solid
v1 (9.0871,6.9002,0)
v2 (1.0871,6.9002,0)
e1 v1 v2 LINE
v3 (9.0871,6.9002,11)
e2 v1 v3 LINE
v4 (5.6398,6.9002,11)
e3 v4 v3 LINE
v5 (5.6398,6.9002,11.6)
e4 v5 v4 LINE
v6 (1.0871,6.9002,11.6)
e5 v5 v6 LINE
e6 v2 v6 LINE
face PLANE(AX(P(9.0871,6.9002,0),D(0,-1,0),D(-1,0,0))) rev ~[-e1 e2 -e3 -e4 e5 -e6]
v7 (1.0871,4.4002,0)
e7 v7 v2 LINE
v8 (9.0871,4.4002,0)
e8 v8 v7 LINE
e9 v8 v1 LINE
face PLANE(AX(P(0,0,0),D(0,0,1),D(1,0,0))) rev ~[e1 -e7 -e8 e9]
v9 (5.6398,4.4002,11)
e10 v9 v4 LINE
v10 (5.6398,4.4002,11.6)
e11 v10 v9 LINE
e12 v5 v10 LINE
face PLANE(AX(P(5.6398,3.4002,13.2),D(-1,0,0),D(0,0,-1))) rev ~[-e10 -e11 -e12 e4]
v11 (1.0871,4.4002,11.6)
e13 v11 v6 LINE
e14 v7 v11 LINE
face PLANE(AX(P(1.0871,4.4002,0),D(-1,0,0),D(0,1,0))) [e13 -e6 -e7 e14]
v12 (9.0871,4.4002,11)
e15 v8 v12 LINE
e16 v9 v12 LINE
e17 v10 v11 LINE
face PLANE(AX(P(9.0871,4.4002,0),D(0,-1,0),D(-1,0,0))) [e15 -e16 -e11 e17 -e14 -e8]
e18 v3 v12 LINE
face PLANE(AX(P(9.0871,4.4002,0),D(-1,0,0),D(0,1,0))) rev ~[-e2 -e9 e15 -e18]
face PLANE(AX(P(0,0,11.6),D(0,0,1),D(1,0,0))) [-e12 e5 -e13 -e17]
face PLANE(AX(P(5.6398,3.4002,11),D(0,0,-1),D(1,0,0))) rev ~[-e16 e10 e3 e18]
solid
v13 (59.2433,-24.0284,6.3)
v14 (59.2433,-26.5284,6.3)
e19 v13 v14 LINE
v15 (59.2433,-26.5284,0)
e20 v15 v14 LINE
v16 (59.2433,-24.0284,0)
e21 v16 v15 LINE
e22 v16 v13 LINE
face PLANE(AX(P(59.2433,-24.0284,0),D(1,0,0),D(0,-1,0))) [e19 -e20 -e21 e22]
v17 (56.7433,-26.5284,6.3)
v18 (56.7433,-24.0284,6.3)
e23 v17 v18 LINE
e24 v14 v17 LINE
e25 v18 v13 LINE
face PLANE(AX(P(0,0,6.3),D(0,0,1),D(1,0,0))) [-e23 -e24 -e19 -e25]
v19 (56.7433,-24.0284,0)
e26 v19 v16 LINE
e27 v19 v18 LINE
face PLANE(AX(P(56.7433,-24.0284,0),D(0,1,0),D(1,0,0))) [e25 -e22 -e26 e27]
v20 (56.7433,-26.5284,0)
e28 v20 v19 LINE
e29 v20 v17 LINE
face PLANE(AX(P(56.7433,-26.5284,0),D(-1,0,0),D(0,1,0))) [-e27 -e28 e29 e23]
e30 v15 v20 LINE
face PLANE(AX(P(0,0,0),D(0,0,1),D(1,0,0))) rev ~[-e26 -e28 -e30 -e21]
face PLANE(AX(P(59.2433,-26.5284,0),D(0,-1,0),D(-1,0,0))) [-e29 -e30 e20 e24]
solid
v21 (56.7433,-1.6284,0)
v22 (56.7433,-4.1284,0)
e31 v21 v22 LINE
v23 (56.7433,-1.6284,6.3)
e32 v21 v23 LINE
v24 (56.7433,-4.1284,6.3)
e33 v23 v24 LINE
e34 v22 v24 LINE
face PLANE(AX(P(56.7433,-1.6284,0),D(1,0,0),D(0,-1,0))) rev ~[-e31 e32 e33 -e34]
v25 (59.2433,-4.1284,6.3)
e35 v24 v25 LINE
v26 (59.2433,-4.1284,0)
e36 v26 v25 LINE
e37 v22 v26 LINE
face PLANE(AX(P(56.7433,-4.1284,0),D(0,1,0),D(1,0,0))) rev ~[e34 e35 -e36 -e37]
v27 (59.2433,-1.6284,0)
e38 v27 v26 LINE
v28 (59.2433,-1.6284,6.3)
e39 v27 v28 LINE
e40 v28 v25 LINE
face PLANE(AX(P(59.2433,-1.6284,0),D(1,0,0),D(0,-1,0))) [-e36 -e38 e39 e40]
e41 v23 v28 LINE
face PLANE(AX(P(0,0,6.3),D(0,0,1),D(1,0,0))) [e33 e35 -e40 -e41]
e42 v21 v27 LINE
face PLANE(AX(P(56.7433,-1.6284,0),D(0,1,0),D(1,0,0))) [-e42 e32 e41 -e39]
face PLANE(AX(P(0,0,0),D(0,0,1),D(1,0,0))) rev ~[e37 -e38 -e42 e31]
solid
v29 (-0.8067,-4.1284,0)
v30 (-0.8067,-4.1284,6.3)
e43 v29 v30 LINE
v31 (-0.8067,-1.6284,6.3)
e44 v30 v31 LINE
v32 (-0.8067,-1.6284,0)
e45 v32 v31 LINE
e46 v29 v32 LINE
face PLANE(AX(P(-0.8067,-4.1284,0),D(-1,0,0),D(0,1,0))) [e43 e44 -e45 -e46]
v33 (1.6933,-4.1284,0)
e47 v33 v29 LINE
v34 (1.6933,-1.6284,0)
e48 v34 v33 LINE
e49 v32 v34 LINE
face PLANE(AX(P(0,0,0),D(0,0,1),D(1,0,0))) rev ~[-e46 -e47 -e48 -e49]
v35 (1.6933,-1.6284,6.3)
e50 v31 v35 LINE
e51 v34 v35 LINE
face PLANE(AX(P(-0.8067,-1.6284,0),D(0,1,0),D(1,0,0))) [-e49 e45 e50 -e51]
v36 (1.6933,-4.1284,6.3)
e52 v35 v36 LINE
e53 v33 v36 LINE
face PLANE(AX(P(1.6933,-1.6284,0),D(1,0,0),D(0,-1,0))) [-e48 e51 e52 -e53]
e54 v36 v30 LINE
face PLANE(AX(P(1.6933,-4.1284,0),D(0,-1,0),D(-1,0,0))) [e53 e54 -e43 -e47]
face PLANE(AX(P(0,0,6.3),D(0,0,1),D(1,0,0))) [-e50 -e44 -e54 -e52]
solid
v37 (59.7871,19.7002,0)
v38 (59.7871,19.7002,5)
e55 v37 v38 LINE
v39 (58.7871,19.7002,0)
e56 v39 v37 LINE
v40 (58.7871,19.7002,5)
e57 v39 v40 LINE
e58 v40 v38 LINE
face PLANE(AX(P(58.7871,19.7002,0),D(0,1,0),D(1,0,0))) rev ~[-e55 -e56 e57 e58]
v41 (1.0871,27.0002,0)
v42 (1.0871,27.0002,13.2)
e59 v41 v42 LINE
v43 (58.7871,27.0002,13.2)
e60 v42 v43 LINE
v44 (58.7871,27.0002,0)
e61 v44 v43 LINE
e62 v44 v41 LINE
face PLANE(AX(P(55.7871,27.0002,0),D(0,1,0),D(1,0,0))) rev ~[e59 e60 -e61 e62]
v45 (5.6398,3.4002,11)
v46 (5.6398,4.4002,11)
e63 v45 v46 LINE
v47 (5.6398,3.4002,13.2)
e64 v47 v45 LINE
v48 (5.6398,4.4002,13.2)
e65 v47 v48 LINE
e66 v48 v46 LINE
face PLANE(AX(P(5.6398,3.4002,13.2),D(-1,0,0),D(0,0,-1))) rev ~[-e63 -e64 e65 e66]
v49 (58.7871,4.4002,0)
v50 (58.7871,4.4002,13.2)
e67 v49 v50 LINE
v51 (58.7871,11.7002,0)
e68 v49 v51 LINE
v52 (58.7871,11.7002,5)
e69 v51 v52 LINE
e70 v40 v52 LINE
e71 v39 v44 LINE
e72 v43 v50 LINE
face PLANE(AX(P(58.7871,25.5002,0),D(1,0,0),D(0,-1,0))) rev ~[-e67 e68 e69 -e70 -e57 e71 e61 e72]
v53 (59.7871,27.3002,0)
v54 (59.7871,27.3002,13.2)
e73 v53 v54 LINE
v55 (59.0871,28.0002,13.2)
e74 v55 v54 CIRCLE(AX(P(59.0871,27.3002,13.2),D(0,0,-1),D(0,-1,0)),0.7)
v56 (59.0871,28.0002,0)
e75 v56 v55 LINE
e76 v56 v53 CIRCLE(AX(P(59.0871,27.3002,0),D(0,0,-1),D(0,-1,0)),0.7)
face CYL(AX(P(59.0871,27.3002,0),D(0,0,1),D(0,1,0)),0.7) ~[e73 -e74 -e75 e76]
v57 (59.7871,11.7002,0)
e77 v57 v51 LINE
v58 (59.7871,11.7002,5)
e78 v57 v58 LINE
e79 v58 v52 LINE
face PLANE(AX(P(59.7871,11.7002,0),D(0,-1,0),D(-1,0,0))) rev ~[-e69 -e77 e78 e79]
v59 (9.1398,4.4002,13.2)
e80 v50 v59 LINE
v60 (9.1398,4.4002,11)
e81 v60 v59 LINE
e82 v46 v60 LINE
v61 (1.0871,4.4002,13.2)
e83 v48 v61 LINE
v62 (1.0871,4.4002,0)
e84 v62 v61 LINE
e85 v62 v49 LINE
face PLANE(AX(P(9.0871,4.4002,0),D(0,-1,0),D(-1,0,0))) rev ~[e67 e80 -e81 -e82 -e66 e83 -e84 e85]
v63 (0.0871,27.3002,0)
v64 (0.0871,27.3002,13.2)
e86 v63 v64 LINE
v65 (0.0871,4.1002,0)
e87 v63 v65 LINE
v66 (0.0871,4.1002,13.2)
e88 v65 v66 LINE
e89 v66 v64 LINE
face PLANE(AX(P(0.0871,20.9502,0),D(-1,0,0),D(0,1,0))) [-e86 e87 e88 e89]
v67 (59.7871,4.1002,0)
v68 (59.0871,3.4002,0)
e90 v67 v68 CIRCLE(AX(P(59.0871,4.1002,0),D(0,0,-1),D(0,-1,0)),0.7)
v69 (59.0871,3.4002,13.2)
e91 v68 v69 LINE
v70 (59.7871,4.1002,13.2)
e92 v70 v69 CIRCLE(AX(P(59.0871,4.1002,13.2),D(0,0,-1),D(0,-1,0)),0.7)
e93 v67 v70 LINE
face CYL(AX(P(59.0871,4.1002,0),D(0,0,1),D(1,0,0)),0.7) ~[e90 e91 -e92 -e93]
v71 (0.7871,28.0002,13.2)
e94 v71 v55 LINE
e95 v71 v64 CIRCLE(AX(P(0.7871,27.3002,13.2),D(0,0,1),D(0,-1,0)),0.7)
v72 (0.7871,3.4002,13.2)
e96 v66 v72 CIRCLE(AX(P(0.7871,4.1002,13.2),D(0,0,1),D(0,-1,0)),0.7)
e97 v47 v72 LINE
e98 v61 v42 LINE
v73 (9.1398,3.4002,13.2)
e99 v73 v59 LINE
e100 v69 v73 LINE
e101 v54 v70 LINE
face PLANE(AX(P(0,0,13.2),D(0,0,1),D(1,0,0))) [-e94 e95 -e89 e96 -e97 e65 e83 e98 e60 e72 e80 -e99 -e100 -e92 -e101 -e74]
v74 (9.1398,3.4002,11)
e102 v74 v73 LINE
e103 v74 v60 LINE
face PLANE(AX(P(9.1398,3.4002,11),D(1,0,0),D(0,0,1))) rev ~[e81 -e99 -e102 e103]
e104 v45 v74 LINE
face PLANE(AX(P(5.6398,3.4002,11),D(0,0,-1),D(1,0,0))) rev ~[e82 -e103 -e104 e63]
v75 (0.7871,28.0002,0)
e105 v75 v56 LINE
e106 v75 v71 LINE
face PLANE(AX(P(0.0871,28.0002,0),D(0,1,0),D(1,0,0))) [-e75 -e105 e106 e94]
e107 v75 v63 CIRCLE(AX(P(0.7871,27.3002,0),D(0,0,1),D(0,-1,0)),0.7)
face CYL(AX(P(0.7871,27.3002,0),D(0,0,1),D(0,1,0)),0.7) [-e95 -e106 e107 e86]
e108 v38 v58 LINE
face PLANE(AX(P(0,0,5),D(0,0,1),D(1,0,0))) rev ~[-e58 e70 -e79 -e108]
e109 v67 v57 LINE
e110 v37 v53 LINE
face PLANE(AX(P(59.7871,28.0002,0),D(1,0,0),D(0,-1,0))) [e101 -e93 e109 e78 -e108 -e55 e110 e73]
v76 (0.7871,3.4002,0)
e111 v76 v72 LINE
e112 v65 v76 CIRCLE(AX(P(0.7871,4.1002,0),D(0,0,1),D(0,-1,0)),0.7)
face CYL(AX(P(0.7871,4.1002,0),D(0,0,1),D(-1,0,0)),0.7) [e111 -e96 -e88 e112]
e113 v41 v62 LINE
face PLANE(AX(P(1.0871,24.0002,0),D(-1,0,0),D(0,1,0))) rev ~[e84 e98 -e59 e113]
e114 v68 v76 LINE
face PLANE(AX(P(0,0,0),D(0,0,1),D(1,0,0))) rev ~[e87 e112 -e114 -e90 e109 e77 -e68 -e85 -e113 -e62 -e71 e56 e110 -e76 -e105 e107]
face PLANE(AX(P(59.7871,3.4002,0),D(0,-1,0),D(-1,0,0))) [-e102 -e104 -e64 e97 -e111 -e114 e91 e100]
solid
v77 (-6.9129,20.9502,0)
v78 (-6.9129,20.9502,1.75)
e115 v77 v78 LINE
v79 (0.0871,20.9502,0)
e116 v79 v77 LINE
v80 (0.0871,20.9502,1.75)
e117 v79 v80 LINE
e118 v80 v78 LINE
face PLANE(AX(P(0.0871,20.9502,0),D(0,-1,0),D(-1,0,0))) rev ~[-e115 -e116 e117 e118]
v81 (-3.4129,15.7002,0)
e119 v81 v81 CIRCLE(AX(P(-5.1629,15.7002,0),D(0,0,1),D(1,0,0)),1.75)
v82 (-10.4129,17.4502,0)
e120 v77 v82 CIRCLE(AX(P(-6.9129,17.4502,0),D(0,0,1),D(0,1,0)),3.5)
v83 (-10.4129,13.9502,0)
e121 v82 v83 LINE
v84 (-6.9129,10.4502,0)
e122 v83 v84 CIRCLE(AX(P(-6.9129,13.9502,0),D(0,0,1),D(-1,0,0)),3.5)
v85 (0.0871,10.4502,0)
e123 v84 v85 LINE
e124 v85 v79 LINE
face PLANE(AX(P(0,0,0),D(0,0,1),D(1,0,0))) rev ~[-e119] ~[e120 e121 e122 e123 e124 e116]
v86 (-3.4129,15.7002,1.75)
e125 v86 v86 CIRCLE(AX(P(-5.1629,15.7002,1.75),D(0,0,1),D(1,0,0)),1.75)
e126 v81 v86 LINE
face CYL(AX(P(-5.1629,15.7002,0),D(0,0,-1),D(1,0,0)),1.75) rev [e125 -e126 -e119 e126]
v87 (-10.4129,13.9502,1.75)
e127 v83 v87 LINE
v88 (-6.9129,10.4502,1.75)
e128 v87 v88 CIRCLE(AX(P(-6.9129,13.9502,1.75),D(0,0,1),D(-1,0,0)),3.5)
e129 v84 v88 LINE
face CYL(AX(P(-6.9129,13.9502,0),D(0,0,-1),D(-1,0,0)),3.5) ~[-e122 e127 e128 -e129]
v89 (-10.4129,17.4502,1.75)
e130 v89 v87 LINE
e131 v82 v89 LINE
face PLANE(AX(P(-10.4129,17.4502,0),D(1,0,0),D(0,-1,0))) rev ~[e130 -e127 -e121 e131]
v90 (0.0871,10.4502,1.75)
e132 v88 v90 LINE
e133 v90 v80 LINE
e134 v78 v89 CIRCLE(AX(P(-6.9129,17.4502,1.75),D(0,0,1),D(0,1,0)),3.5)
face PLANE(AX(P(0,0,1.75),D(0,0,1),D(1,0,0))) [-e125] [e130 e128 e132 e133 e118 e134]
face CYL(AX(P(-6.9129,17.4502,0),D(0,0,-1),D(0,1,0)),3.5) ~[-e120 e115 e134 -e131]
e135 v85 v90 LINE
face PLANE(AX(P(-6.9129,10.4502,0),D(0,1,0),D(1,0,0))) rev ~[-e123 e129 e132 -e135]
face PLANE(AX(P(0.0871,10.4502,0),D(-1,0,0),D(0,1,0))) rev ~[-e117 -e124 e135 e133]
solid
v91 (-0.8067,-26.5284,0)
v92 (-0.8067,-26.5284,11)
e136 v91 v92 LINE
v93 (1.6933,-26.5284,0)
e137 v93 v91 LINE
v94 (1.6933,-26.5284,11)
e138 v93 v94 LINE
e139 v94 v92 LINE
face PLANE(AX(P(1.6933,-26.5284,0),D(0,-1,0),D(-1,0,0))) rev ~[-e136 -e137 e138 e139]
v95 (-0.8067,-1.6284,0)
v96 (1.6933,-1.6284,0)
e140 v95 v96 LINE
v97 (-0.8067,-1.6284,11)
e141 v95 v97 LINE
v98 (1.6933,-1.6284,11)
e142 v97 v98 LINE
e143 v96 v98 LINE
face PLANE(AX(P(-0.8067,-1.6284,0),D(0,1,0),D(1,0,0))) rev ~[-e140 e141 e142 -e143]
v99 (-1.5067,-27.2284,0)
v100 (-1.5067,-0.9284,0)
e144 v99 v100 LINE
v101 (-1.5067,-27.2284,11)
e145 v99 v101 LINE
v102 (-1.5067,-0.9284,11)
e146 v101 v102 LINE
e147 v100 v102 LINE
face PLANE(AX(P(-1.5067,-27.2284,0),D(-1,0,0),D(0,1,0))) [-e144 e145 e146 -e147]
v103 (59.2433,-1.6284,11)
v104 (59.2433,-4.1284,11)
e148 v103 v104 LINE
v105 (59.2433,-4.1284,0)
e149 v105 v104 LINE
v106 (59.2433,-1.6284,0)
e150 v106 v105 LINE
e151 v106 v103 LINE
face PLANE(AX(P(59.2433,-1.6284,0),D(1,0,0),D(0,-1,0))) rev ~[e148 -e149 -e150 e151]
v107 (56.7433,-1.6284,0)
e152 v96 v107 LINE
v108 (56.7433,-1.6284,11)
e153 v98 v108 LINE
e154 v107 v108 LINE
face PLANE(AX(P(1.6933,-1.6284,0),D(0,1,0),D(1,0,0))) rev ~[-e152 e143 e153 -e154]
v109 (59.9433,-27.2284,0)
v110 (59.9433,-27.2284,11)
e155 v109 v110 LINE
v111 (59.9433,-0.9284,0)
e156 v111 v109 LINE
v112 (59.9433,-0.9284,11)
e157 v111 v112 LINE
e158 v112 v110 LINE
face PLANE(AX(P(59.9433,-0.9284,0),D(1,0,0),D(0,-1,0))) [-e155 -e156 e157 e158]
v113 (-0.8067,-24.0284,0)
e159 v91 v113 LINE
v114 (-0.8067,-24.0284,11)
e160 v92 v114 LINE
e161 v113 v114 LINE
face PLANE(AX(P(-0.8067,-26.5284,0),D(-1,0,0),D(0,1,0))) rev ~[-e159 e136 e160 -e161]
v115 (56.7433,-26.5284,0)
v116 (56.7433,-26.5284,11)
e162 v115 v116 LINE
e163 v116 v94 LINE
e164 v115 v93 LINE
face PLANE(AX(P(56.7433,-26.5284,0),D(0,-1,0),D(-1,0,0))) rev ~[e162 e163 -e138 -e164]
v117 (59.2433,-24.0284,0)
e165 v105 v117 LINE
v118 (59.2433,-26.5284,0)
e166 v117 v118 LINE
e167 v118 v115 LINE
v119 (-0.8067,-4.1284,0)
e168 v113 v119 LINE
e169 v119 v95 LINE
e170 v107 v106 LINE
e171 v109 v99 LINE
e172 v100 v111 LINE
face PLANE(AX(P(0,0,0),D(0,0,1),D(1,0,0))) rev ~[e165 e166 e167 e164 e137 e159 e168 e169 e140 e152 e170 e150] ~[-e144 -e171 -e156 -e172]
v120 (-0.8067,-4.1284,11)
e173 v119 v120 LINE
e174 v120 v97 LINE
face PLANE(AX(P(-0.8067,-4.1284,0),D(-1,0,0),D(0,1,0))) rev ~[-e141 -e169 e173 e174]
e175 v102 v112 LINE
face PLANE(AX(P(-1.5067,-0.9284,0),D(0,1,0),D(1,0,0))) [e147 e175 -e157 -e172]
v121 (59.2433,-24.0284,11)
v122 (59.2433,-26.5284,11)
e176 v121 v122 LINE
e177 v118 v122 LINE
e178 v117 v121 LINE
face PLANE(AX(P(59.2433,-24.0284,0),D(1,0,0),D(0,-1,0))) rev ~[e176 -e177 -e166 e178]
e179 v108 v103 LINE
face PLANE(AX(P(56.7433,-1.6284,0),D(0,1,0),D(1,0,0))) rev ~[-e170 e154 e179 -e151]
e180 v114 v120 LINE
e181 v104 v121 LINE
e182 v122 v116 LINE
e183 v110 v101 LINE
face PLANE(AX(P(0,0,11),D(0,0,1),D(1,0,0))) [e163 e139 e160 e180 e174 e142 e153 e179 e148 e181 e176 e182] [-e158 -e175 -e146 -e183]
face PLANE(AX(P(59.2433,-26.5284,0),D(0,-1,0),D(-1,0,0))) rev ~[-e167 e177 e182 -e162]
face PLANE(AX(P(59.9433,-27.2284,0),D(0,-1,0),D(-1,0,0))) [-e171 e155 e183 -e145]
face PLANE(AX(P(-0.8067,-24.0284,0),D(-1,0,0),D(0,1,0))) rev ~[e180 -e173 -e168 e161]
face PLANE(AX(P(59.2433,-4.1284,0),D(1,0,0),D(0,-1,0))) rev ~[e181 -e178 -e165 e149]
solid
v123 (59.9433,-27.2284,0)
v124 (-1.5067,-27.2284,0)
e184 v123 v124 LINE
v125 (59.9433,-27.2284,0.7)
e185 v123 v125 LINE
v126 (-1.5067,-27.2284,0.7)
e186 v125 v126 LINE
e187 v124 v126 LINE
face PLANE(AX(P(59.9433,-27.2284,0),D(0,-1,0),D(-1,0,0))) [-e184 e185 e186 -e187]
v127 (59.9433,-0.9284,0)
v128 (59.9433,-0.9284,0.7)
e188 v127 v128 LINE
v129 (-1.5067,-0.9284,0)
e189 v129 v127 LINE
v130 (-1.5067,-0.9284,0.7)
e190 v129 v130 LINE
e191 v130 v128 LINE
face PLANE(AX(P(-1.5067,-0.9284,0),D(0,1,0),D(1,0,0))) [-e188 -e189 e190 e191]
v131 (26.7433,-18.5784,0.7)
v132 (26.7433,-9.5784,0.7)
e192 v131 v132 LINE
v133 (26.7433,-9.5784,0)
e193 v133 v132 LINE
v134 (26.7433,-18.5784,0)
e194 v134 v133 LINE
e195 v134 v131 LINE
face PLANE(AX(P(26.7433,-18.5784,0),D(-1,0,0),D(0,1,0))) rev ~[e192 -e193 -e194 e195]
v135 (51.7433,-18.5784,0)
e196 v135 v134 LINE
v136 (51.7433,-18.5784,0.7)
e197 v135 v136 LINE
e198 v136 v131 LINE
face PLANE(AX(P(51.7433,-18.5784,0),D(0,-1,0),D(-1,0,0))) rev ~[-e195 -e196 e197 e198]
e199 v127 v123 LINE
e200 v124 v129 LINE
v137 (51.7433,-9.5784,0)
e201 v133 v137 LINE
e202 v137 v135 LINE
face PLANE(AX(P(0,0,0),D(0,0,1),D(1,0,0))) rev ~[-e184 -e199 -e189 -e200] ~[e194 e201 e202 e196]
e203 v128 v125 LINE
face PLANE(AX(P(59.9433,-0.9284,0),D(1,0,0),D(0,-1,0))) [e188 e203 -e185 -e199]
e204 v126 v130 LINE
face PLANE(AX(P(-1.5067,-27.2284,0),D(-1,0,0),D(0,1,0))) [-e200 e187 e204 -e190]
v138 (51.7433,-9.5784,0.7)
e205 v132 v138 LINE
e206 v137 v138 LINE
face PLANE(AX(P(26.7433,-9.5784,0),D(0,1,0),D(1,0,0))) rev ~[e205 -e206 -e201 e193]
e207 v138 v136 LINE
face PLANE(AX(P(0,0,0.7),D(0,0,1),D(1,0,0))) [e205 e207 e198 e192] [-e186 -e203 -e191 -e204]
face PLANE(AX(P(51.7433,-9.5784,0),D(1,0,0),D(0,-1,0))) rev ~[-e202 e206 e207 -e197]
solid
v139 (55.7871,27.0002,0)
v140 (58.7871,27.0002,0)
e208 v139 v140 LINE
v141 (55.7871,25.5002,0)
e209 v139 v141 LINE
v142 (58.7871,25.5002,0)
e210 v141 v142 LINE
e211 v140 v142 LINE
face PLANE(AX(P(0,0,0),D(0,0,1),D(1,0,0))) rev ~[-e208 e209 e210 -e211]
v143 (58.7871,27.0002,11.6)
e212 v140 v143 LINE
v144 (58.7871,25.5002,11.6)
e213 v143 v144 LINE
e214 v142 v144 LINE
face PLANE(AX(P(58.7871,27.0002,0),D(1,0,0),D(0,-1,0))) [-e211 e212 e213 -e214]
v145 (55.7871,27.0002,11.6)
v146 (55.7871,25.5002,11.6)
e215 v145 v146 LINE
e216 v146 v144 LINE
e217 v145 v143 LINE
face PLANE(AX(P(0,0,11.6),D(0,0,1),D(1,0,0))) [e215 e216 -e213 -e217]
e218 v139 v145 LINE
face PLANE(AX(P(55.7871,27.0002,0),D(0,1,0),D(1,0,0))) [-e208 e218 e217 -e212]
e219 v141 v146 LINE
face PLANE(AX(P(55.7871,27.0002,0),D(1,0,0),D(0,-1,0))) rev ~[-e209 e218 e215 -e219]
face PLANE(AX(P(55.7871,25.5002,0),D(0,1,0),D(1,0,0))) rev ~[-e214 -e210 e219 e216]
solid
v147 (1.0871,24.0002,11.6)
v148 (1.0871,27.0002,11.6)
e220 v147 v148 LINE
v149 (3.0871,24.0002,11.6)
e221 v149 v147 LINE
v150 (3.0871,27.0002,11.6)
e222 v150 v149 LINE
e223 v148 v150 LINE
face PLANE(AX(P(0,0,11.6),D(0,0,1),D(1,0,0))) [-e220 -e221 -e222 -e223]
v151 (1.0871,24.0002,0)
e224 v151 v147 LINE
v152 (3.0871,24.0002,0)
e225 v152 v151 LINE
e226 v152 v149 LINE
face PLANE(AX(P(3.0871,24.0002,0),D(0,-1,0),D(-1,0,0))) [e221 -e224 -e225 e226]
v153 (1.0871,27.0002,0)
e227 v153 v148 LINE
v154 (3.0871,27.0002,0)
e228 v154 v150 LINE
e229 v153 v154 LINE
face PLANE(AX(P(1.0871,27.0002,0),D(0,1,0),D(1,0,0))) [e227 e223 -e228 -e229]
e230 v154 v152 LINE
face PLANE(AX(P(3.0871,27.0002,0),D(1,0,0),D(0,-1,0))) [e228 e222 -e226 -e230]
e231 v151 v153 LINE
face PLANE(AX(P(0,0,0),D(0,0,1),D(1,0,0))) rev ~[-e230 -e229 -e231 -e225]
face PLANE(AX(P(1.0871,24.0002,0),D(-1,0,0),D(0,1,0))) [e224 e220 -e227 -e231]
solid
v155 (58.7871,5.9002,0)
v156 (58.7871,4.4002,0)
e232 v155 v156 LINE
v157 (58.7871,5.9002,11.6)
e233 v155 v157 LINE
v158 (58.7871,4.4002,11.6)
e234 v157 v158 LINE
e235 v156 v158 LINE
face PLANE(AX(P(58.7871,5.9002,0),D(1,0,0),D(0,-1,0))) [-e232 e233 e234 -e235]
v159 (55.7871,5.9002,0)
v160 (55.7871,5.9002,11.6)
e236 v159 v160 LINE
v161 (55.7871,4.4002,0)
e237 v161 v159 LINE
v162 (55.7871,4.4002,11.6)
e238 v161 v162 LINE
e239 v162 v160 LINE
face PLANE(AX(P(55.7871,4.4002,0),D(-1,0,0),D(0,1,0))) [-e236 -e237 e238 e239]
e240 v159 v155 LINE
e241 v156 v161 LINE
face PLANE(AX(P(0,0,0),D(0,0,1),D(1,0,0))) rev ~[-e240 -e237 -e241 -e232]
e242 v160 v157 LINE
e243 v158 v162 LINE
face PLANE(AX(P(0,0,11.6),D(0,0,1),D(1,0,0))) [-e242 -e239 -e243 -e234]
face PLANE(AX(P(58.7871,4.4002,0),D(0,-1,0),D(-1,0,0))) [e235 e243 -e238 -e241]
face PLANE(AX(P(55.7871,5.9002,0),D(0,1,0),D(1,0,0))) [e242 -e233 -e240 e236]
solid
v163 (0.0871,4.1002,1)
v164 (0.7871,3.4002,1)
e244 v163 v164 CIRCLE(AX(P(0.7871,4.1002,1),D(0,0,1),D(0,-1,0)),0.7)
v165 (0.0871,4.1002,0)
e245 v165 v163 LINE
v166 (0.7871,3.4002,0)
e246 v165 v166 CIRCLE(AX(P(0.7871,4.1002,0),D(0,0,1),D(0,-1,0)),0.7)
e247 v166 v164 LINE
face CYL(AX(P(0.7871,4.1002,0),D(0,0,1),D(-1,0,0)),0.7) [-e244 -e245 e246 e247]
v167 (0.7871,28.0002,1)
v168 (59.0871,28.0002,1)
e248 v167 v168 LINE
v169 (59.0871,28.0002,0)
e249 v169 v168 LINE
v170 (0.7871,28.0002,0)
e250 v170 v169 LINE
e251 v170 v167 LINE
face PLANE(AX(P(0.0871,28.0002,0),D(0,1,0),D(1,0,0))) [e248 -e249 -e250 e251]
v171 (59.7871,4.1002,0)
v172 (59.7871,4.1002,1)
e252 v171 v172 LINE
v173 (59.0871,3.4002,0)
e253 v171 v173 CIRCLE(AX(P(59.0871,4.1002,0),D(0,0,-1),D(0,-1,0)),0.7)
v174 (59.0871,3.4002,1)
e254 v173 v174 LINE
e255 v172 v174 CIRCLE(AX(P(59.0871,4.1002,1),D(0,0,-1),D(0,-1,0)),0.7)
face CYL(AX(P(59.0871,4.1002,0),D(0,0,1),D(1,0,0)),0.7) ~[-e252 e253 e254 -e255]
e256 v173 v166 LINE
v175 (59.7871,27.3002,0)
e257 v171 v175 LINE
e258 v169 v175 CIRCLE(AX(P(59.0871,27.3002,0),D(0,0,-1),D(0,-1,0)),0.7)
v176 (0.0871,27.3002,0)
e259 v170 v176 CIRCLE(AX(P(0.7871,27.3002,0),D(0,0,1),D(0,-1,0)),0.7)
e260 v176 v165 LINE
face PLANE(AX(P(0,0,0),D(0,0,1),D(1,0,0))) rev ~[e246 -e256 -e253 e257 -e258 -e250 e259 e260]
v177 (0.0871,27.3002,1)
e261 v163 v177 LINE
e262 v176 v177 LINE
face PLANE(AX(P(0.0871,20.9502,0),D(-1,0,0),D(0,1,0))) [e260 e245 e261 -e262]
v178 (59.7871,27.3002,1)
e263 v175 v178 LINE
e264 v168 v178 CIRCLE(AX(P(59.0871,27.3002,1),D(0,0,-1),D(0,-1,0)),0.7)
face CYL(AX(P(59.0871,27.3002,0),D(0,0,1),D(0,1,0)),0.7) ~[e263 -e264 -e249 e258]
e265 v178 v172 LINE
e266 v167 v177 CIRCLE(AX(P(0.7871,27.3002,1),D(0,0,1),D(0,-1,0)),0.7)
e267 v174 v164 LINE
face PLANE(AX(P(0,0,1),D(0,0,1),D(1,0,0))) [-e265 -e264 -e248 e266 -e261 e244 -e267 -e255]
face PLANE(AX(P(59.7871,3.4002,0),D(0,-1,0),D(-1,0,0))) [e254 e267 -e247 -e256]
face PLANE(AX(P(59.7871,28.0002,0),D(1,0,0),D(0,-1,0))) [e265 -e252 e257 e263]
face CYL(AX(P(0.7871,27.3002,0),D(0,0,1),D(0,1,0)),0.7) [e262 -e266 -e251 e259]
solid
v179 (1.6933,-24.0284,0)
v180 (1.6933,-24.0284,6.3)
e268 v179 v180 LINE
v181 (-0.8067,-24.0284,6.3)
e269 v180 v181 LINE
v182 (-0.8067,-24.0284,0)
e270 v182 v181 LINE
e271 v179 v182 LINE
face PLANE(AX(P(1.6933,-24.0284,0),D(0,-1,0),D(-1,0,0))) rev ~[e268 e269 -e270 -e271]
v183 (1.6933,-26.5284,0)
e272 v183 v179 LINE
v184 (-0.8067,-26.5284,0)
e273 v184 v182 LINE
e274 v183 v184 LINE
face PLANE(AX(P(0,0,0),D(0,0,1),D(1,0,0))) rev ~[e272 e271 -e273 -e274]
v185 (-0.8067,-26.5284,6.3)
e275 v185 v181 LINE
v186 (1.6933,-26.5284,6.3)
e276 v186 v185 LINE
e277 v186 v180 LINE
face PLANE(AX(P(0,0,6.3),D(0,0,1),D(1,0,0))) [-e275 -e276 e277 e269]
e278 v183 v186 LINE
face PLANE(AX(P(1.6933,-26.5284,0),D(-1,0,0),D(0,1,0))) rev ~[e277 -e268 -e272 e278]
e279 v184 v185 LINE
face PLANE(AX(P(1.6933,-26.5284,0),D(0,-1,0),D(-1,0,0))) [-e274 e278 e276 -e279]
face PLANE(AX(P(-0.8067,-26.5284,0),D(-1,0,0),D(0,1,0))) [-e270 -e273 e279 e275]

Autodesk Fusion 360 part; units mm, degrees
sketch "Skizze1" plane through (0, 0, 0) normal (0, 0, 1) x (1, 0, 0)
  line L0 (0.0871, 28.0002) -> (59.7871, 28.0002)
  line L1 (59.7871, 28.0002) -> (59.7871, 3.4002)
  line L2 (59.7871, 3.4002) -> (0.0871, 3.4002)
  line L3 (0.0871, 3.4002) -> (0.0871, 28.0002)
  line L4 (58.7871, 4.4002) -> (1.0871, 4.4002)
  line L5 (1.0871, 4.4002) -> (1.0871, 27.0002)
  line L6 (1.0871, 27.0002) -> (58.7871, 27.0002)
  line L7 (58.7871, 27.0002) -> (58.7871, 4.4002)
  line L8 (1.0871, 27.0002) -> (3.0871, 27.0002)
  line L9 (3.0871, 27.0002) -> (3.0871, 24.0002)
  line L10 (3.0871, 24.0002) -> (1.0871, 24.0002)
  line L11 (1.0871, 24.0002) -> (1.0871, 27.0002)
  line L12 (1.0871, 4.4002) -> (9.0871, 4.4002)
  line L13 (9.0871, 4.4002) -> (9.0871, 6.9002)
  line L14 (9.0871, 6.9002) -> (1.0871, 6.9002)
  line L15 (1.0871, 6.9002) -> (1.0871, 4.4002)
  line L16 (58.7871, 27.0002) -> (55.7871, 27.0002)
  line L17 (55.7871, 27.0002) -> (55.7871, 25.5002)
  line L18 (55.7871, 25.5002) -> (58.7871, 25.5002)
  line L19 (58.7871, 25.5002) -> (58.7871, 27.0002)
  line L20 (58.7871, 4.4002) -> (55.7871, 4.4002)
  line L21 (55.7871, 4.4002) -> (55.7871, 5.9002)
  line L22 (55.7871, 5.9002) -> (58.7871, 5.9002)
  line L23 (58.7871, 5.9002) -> (58.7871, 4.4002)
  line L24 (58.7871, 19.7002) -> (59.7871, 19.7002)
  line L25 (59.7871, 19.7002) -> (59.7871, 11.7002)
  line L26 (59.7871, 11.7002) -> (58.7871, 11.7002)
  line L27 (58.7871, 11.7002) -> (58.7871, 19.7002)
  circle A0 centre (-5.1629, 15.7002) radius 1.75
  line L28 (0.0871, 20.9502) -> (-6.9129, 20.9502)
  line L29 (-10.4129, 17.4502) -> (-10.4129, 13.9502)
  line L30 (-6.9129, 10.4502) -> (0.0871, 10.4502)
  line L31 (0.0871, 10.4502) -> (0.0871, 20.9502)
  arc A1 (-6.9129, 20.9502) -> (-10.4129, 17.4502) centre (-6.9129, 17.4502) ccw
  arc A2 (-10.4129, 13.9502) -> (-6.9129, 10.4502) centre (-6.9129, 13.9502) ccw
  point P0 (-10.4129, 20.9502)
  point P1 (-5.1629, 20.9502)
  point P2 (-10.4129, 15.7002)
  point P3 (0.0871, 15.7002)
  dimension "d1" = 59.7
  dimension "d2" = 24.6
  dimension "d3" = 1
  dimension "d4" = 2
  dimension "d5" = 3
  dimension "d6" = 8
  dimension "d7" = 2.5
  dimension "d8" = 3
  dimension "d9" = 1.5
  dimension "d10" = 3
  dimension "d11" = 1.5
  dimension "d12" = 1
  dimension "d13" = 8
  dimension "d14" = 8.3
  dimension "d57" = 3.5
  dimension "d58" = 10.5
  dimension "d59" = 10.5
  dimension "d60" = 3.5
extrude "Extrusion1" add sketch "Skizze1" along normal blind 1 contours L0 L1 L2 L3 L4 L5 L6 L7 L8 L11 L12 L15 L16 L19 L20 L23 L24 L26 L31 | L1 L7 L24 L25 L26 L27 | L4 L5 L6 L7 L9 L10 L13 L14 L17 L18 L21 L22 L27 | L6 L7 L16 L17 L18 L19 | L4 L7 L20 L21 L22 L23 | L5 L6 L8 L9 L10 L11 | L4 L5 L12 L13 L14 L15 makes body 1
extrude "Extrusion3" add sketch "Skizze1" along normal blind 13.2 separate body contours L0 L1 L2 L3 L4 L5 L6 L7 L8 L11 L12 L15 L16 L19 L20 L23 L24 L26 L31 | L1 L7 L24 L25 L26 L27 makes body 2
extrude "Extrusion4" cut sketch "Skizze1" along normal blind 5 contours L1 L7 L24 L25 L26 L27 bodies 2
sketch "Skizze2" plane through (0, 0, 0) normal (0, 0, 1) x (1, 0, 0)
  line L0 (59.9433, -27.2284) -> (-1.5067, -27.2284)
  line L1 (-1.5067, -27.2284) -> (-1.5067, -0.9284)
  line L2 (-1.5067, -0.9284) -> (59.9433, -0.9284)
  line L3 (59.9433, -0.9284) -> (59.9433, -27.2284)
  line L4 (-0.8067, -1.6284) -> (59.2433, -1.6284)
  line L5 (59.2433, -1.6284) -> (59.2433, -26.5284)
  line L6 (59.2433, -26.5284) -> (-0.8067, -26.5284)
  line L7 (-0.8067, -26.5284) -> (-0.8067, -1.6284)
  line L8 (26.7433, -9.5784) -> (51.7433, -9.5784)
  line L9 (51.7433, -9.5784) -> (51.7433, -18.5784)
  line L10 (51.7433, -18.5784) -> (26.7433, -18.5784)
  line L11 (26.7433, -18.5784) -> (26.7433, -9.5784)
  line L12 (-0.8067, -1.6284) -> (1.6933, -1.6284)
  line L13 (1.6933, -1.6284) -> (1.6933, -4.1284)
  line L14 (1.6933, -4.1284) -> (-0.8067, -4.1284)
  line L15 (-0.8067, -4.1284) -> (-0.8067, -1.6284)
  line L16 (-0.8067, -26.5284) -> (1.6933, -26.5284)
  line L17 (1.6933, -26.5284) -> (1.6933, -24.0284)
  line L18 (1.6933, -24.0284) -> (-0.8067, -24.0284)
  line L19 (-0.8067, -24.0284) -> (-0.8067, -26.5284)
  line L20 (59.2433, -1.6284) -> (56.7433, -1.6284)
  line L21 (56.7433, -1.6284) -> (56.7433, -4.1284)
  line L22 (56.7433, -4.1284) -> (59.2433, -4.1284)
  line L23 (59.2433, -4.1284) -> (59.2433, -1.6284)
  line L24 (59.2433, -26.5284) -> (56.7433, -26.5284)
  line L25 (56.7433, -26.5284) -> (56.7433, -24.0284)
  line L26 (56.7433, -24.0284) -> (59.2433, -24.0284)
  line L27 (59.2433, -24.0284) -> (59.2433, -26.5284)
  dimension "d23" = 61.45
  dimension "d24" = 26.3
  dimension "d26" = 0.7
  dimension "d27" = 25
  dimension "d28" = 9
  dimension "d29" = 8.65
  dimension "d30" = 7.5
  dimension "d37" = 2.5
  dimension "d38" = 2.5
  dimension "d39" = 2.5
  dimension "d40" = 2.5
  dimension "d41" = 2.5
  dimension "d42" = 2.5
  dimension "d43" = 2.5
  dimension "d44" = 2.5
  dimension "d63" = 24.5
  dimension "d64" = 59.5
  dimension "d65" = 7.4
extrude "Extrusion5" add sketch "Skizze2" along normal blind 0.7 separate body contours L0 L1 L2 L3 | L4 L7 L12 L13 L14 L15 | L4 L5 L6 L7 L13 L14 L17 L18 L21 L22 L25 L26 | L4 L5 L20 L21 L22 L23 | L6 L7 L16 L17 L18 L19 | L5 L6 L24 L25 L26 L27 makes body 3
extrude "Extrusion6" add sketch "Skizze2" along normal blind 11 separate body contours L0 L1 L2 L3 makes body 4
extrude "Extrusion7" add sketch "Skizze1" along normal blind 11.6 separate body contours L6 L7 L16 L17 L18 L19 | L4 L7 L20 L21 L22 L23 | L5 L6 L8 L9 L10 L11 | L4 L5 L12 L13 L14 L15 makes body 5 at (56.7871, 27.0002, 3.8667) makes body 6 at (57.7871, 4.4002, 3.8667) makes body 7 at (1.0871, 25.0002, 3.8667) makes body 8 at (6.4204, 6.9002, 3.8667)
extrude "Extrusion8" add sketch "Skizze2" along normal blind 6.3 separate body contours L4 L7 L12 L13 L14 L15 | L4 L5 L20 L21 L22 L23 | L6 L7 L16 L17 L18 L19 | L5 L6 L24 L25 L26 L27 makes body 9 at (0.0266, -1.6284, 2.1) makes body 10 at (0.86, -24.0284, 2.1) makes body 11 at (59.2433, -2.4617, 2.1) makes body 12 at (58.41, -26.5284, 2.1)
fillet "Abrundung1" radius 0.7 1 edges at (0.0871, 28.0002, 6.6) on bodies 2
fillet "Abrundung2" radius 0.7 1 edges at (0.0871, 28.0002, 0.5) on bodies 1
fillet "Abrundung3" radius 0.7 2 edges at (0.0871, 3.4002, 0.5) (0.0871, 3.4002, 6.6) on bodies 1 2
fillet "Abrundung4" radius 0.7 1 edges at (59.7871, 28.0002, 6.6) on bodies 2
fillet "Abrundung5" radius 0.7 1 edges at (59.7871, 28.0002, 0.5) on bodies 1
fillet "Abrundung6" radius 0.7 2 edges at (59.7871, 3.4002, 0.5) (59.7871, 3.4002, 6.6) on bodies 1 2
sketch "Skizze3" plane through (0, 3.4002, 0) normal (0, -1, 0) x (1, 0, 0)
  line L0 (59.0871, 0) -> (59.0871, 13.2)
  line L1 (59.0871, 13.2) -> (0.7871, 13.2)
  line L2 (0.7871, 13.2) -> (0.7871, 0)
  line L3 (0.7871, 0) -> (59.0871, 0)
  line L4 (9.1398, 13.2) -> (5.6398, 13.2)
  line L5 (5.6398, 13.2) -> (5.6398, 11)
  line L6 (5.6398, 11) -> (9.1398, 11)
  line L7 (9.1398, 11) -> (9.1398, 13.2)
  dimension "d53" = 3.5
  dimension "d54" = 2.2
extrude "Extrusion9" cut sketch "Skizze3" against normal blind 4 contours L1 L4 L5 L6 L7 bodies 2 8
extrude "Extrusion10" add sketch "Skizze1" along normal blind 1.75 separate body contours L3 L28 L29 L30 L31 A1 A2 makes body 13
equation "d19 = 11.6 mm + 1.6 mm"
equation "d23 = 59.7 mm + 1.75 mm"
equation "d24 = 24.5 mm + 1.8 mm"
equation "d30 = 6.8 mm + 0.7 mm"
equation "d45 = 5.6 mm + 0.7 mm"
